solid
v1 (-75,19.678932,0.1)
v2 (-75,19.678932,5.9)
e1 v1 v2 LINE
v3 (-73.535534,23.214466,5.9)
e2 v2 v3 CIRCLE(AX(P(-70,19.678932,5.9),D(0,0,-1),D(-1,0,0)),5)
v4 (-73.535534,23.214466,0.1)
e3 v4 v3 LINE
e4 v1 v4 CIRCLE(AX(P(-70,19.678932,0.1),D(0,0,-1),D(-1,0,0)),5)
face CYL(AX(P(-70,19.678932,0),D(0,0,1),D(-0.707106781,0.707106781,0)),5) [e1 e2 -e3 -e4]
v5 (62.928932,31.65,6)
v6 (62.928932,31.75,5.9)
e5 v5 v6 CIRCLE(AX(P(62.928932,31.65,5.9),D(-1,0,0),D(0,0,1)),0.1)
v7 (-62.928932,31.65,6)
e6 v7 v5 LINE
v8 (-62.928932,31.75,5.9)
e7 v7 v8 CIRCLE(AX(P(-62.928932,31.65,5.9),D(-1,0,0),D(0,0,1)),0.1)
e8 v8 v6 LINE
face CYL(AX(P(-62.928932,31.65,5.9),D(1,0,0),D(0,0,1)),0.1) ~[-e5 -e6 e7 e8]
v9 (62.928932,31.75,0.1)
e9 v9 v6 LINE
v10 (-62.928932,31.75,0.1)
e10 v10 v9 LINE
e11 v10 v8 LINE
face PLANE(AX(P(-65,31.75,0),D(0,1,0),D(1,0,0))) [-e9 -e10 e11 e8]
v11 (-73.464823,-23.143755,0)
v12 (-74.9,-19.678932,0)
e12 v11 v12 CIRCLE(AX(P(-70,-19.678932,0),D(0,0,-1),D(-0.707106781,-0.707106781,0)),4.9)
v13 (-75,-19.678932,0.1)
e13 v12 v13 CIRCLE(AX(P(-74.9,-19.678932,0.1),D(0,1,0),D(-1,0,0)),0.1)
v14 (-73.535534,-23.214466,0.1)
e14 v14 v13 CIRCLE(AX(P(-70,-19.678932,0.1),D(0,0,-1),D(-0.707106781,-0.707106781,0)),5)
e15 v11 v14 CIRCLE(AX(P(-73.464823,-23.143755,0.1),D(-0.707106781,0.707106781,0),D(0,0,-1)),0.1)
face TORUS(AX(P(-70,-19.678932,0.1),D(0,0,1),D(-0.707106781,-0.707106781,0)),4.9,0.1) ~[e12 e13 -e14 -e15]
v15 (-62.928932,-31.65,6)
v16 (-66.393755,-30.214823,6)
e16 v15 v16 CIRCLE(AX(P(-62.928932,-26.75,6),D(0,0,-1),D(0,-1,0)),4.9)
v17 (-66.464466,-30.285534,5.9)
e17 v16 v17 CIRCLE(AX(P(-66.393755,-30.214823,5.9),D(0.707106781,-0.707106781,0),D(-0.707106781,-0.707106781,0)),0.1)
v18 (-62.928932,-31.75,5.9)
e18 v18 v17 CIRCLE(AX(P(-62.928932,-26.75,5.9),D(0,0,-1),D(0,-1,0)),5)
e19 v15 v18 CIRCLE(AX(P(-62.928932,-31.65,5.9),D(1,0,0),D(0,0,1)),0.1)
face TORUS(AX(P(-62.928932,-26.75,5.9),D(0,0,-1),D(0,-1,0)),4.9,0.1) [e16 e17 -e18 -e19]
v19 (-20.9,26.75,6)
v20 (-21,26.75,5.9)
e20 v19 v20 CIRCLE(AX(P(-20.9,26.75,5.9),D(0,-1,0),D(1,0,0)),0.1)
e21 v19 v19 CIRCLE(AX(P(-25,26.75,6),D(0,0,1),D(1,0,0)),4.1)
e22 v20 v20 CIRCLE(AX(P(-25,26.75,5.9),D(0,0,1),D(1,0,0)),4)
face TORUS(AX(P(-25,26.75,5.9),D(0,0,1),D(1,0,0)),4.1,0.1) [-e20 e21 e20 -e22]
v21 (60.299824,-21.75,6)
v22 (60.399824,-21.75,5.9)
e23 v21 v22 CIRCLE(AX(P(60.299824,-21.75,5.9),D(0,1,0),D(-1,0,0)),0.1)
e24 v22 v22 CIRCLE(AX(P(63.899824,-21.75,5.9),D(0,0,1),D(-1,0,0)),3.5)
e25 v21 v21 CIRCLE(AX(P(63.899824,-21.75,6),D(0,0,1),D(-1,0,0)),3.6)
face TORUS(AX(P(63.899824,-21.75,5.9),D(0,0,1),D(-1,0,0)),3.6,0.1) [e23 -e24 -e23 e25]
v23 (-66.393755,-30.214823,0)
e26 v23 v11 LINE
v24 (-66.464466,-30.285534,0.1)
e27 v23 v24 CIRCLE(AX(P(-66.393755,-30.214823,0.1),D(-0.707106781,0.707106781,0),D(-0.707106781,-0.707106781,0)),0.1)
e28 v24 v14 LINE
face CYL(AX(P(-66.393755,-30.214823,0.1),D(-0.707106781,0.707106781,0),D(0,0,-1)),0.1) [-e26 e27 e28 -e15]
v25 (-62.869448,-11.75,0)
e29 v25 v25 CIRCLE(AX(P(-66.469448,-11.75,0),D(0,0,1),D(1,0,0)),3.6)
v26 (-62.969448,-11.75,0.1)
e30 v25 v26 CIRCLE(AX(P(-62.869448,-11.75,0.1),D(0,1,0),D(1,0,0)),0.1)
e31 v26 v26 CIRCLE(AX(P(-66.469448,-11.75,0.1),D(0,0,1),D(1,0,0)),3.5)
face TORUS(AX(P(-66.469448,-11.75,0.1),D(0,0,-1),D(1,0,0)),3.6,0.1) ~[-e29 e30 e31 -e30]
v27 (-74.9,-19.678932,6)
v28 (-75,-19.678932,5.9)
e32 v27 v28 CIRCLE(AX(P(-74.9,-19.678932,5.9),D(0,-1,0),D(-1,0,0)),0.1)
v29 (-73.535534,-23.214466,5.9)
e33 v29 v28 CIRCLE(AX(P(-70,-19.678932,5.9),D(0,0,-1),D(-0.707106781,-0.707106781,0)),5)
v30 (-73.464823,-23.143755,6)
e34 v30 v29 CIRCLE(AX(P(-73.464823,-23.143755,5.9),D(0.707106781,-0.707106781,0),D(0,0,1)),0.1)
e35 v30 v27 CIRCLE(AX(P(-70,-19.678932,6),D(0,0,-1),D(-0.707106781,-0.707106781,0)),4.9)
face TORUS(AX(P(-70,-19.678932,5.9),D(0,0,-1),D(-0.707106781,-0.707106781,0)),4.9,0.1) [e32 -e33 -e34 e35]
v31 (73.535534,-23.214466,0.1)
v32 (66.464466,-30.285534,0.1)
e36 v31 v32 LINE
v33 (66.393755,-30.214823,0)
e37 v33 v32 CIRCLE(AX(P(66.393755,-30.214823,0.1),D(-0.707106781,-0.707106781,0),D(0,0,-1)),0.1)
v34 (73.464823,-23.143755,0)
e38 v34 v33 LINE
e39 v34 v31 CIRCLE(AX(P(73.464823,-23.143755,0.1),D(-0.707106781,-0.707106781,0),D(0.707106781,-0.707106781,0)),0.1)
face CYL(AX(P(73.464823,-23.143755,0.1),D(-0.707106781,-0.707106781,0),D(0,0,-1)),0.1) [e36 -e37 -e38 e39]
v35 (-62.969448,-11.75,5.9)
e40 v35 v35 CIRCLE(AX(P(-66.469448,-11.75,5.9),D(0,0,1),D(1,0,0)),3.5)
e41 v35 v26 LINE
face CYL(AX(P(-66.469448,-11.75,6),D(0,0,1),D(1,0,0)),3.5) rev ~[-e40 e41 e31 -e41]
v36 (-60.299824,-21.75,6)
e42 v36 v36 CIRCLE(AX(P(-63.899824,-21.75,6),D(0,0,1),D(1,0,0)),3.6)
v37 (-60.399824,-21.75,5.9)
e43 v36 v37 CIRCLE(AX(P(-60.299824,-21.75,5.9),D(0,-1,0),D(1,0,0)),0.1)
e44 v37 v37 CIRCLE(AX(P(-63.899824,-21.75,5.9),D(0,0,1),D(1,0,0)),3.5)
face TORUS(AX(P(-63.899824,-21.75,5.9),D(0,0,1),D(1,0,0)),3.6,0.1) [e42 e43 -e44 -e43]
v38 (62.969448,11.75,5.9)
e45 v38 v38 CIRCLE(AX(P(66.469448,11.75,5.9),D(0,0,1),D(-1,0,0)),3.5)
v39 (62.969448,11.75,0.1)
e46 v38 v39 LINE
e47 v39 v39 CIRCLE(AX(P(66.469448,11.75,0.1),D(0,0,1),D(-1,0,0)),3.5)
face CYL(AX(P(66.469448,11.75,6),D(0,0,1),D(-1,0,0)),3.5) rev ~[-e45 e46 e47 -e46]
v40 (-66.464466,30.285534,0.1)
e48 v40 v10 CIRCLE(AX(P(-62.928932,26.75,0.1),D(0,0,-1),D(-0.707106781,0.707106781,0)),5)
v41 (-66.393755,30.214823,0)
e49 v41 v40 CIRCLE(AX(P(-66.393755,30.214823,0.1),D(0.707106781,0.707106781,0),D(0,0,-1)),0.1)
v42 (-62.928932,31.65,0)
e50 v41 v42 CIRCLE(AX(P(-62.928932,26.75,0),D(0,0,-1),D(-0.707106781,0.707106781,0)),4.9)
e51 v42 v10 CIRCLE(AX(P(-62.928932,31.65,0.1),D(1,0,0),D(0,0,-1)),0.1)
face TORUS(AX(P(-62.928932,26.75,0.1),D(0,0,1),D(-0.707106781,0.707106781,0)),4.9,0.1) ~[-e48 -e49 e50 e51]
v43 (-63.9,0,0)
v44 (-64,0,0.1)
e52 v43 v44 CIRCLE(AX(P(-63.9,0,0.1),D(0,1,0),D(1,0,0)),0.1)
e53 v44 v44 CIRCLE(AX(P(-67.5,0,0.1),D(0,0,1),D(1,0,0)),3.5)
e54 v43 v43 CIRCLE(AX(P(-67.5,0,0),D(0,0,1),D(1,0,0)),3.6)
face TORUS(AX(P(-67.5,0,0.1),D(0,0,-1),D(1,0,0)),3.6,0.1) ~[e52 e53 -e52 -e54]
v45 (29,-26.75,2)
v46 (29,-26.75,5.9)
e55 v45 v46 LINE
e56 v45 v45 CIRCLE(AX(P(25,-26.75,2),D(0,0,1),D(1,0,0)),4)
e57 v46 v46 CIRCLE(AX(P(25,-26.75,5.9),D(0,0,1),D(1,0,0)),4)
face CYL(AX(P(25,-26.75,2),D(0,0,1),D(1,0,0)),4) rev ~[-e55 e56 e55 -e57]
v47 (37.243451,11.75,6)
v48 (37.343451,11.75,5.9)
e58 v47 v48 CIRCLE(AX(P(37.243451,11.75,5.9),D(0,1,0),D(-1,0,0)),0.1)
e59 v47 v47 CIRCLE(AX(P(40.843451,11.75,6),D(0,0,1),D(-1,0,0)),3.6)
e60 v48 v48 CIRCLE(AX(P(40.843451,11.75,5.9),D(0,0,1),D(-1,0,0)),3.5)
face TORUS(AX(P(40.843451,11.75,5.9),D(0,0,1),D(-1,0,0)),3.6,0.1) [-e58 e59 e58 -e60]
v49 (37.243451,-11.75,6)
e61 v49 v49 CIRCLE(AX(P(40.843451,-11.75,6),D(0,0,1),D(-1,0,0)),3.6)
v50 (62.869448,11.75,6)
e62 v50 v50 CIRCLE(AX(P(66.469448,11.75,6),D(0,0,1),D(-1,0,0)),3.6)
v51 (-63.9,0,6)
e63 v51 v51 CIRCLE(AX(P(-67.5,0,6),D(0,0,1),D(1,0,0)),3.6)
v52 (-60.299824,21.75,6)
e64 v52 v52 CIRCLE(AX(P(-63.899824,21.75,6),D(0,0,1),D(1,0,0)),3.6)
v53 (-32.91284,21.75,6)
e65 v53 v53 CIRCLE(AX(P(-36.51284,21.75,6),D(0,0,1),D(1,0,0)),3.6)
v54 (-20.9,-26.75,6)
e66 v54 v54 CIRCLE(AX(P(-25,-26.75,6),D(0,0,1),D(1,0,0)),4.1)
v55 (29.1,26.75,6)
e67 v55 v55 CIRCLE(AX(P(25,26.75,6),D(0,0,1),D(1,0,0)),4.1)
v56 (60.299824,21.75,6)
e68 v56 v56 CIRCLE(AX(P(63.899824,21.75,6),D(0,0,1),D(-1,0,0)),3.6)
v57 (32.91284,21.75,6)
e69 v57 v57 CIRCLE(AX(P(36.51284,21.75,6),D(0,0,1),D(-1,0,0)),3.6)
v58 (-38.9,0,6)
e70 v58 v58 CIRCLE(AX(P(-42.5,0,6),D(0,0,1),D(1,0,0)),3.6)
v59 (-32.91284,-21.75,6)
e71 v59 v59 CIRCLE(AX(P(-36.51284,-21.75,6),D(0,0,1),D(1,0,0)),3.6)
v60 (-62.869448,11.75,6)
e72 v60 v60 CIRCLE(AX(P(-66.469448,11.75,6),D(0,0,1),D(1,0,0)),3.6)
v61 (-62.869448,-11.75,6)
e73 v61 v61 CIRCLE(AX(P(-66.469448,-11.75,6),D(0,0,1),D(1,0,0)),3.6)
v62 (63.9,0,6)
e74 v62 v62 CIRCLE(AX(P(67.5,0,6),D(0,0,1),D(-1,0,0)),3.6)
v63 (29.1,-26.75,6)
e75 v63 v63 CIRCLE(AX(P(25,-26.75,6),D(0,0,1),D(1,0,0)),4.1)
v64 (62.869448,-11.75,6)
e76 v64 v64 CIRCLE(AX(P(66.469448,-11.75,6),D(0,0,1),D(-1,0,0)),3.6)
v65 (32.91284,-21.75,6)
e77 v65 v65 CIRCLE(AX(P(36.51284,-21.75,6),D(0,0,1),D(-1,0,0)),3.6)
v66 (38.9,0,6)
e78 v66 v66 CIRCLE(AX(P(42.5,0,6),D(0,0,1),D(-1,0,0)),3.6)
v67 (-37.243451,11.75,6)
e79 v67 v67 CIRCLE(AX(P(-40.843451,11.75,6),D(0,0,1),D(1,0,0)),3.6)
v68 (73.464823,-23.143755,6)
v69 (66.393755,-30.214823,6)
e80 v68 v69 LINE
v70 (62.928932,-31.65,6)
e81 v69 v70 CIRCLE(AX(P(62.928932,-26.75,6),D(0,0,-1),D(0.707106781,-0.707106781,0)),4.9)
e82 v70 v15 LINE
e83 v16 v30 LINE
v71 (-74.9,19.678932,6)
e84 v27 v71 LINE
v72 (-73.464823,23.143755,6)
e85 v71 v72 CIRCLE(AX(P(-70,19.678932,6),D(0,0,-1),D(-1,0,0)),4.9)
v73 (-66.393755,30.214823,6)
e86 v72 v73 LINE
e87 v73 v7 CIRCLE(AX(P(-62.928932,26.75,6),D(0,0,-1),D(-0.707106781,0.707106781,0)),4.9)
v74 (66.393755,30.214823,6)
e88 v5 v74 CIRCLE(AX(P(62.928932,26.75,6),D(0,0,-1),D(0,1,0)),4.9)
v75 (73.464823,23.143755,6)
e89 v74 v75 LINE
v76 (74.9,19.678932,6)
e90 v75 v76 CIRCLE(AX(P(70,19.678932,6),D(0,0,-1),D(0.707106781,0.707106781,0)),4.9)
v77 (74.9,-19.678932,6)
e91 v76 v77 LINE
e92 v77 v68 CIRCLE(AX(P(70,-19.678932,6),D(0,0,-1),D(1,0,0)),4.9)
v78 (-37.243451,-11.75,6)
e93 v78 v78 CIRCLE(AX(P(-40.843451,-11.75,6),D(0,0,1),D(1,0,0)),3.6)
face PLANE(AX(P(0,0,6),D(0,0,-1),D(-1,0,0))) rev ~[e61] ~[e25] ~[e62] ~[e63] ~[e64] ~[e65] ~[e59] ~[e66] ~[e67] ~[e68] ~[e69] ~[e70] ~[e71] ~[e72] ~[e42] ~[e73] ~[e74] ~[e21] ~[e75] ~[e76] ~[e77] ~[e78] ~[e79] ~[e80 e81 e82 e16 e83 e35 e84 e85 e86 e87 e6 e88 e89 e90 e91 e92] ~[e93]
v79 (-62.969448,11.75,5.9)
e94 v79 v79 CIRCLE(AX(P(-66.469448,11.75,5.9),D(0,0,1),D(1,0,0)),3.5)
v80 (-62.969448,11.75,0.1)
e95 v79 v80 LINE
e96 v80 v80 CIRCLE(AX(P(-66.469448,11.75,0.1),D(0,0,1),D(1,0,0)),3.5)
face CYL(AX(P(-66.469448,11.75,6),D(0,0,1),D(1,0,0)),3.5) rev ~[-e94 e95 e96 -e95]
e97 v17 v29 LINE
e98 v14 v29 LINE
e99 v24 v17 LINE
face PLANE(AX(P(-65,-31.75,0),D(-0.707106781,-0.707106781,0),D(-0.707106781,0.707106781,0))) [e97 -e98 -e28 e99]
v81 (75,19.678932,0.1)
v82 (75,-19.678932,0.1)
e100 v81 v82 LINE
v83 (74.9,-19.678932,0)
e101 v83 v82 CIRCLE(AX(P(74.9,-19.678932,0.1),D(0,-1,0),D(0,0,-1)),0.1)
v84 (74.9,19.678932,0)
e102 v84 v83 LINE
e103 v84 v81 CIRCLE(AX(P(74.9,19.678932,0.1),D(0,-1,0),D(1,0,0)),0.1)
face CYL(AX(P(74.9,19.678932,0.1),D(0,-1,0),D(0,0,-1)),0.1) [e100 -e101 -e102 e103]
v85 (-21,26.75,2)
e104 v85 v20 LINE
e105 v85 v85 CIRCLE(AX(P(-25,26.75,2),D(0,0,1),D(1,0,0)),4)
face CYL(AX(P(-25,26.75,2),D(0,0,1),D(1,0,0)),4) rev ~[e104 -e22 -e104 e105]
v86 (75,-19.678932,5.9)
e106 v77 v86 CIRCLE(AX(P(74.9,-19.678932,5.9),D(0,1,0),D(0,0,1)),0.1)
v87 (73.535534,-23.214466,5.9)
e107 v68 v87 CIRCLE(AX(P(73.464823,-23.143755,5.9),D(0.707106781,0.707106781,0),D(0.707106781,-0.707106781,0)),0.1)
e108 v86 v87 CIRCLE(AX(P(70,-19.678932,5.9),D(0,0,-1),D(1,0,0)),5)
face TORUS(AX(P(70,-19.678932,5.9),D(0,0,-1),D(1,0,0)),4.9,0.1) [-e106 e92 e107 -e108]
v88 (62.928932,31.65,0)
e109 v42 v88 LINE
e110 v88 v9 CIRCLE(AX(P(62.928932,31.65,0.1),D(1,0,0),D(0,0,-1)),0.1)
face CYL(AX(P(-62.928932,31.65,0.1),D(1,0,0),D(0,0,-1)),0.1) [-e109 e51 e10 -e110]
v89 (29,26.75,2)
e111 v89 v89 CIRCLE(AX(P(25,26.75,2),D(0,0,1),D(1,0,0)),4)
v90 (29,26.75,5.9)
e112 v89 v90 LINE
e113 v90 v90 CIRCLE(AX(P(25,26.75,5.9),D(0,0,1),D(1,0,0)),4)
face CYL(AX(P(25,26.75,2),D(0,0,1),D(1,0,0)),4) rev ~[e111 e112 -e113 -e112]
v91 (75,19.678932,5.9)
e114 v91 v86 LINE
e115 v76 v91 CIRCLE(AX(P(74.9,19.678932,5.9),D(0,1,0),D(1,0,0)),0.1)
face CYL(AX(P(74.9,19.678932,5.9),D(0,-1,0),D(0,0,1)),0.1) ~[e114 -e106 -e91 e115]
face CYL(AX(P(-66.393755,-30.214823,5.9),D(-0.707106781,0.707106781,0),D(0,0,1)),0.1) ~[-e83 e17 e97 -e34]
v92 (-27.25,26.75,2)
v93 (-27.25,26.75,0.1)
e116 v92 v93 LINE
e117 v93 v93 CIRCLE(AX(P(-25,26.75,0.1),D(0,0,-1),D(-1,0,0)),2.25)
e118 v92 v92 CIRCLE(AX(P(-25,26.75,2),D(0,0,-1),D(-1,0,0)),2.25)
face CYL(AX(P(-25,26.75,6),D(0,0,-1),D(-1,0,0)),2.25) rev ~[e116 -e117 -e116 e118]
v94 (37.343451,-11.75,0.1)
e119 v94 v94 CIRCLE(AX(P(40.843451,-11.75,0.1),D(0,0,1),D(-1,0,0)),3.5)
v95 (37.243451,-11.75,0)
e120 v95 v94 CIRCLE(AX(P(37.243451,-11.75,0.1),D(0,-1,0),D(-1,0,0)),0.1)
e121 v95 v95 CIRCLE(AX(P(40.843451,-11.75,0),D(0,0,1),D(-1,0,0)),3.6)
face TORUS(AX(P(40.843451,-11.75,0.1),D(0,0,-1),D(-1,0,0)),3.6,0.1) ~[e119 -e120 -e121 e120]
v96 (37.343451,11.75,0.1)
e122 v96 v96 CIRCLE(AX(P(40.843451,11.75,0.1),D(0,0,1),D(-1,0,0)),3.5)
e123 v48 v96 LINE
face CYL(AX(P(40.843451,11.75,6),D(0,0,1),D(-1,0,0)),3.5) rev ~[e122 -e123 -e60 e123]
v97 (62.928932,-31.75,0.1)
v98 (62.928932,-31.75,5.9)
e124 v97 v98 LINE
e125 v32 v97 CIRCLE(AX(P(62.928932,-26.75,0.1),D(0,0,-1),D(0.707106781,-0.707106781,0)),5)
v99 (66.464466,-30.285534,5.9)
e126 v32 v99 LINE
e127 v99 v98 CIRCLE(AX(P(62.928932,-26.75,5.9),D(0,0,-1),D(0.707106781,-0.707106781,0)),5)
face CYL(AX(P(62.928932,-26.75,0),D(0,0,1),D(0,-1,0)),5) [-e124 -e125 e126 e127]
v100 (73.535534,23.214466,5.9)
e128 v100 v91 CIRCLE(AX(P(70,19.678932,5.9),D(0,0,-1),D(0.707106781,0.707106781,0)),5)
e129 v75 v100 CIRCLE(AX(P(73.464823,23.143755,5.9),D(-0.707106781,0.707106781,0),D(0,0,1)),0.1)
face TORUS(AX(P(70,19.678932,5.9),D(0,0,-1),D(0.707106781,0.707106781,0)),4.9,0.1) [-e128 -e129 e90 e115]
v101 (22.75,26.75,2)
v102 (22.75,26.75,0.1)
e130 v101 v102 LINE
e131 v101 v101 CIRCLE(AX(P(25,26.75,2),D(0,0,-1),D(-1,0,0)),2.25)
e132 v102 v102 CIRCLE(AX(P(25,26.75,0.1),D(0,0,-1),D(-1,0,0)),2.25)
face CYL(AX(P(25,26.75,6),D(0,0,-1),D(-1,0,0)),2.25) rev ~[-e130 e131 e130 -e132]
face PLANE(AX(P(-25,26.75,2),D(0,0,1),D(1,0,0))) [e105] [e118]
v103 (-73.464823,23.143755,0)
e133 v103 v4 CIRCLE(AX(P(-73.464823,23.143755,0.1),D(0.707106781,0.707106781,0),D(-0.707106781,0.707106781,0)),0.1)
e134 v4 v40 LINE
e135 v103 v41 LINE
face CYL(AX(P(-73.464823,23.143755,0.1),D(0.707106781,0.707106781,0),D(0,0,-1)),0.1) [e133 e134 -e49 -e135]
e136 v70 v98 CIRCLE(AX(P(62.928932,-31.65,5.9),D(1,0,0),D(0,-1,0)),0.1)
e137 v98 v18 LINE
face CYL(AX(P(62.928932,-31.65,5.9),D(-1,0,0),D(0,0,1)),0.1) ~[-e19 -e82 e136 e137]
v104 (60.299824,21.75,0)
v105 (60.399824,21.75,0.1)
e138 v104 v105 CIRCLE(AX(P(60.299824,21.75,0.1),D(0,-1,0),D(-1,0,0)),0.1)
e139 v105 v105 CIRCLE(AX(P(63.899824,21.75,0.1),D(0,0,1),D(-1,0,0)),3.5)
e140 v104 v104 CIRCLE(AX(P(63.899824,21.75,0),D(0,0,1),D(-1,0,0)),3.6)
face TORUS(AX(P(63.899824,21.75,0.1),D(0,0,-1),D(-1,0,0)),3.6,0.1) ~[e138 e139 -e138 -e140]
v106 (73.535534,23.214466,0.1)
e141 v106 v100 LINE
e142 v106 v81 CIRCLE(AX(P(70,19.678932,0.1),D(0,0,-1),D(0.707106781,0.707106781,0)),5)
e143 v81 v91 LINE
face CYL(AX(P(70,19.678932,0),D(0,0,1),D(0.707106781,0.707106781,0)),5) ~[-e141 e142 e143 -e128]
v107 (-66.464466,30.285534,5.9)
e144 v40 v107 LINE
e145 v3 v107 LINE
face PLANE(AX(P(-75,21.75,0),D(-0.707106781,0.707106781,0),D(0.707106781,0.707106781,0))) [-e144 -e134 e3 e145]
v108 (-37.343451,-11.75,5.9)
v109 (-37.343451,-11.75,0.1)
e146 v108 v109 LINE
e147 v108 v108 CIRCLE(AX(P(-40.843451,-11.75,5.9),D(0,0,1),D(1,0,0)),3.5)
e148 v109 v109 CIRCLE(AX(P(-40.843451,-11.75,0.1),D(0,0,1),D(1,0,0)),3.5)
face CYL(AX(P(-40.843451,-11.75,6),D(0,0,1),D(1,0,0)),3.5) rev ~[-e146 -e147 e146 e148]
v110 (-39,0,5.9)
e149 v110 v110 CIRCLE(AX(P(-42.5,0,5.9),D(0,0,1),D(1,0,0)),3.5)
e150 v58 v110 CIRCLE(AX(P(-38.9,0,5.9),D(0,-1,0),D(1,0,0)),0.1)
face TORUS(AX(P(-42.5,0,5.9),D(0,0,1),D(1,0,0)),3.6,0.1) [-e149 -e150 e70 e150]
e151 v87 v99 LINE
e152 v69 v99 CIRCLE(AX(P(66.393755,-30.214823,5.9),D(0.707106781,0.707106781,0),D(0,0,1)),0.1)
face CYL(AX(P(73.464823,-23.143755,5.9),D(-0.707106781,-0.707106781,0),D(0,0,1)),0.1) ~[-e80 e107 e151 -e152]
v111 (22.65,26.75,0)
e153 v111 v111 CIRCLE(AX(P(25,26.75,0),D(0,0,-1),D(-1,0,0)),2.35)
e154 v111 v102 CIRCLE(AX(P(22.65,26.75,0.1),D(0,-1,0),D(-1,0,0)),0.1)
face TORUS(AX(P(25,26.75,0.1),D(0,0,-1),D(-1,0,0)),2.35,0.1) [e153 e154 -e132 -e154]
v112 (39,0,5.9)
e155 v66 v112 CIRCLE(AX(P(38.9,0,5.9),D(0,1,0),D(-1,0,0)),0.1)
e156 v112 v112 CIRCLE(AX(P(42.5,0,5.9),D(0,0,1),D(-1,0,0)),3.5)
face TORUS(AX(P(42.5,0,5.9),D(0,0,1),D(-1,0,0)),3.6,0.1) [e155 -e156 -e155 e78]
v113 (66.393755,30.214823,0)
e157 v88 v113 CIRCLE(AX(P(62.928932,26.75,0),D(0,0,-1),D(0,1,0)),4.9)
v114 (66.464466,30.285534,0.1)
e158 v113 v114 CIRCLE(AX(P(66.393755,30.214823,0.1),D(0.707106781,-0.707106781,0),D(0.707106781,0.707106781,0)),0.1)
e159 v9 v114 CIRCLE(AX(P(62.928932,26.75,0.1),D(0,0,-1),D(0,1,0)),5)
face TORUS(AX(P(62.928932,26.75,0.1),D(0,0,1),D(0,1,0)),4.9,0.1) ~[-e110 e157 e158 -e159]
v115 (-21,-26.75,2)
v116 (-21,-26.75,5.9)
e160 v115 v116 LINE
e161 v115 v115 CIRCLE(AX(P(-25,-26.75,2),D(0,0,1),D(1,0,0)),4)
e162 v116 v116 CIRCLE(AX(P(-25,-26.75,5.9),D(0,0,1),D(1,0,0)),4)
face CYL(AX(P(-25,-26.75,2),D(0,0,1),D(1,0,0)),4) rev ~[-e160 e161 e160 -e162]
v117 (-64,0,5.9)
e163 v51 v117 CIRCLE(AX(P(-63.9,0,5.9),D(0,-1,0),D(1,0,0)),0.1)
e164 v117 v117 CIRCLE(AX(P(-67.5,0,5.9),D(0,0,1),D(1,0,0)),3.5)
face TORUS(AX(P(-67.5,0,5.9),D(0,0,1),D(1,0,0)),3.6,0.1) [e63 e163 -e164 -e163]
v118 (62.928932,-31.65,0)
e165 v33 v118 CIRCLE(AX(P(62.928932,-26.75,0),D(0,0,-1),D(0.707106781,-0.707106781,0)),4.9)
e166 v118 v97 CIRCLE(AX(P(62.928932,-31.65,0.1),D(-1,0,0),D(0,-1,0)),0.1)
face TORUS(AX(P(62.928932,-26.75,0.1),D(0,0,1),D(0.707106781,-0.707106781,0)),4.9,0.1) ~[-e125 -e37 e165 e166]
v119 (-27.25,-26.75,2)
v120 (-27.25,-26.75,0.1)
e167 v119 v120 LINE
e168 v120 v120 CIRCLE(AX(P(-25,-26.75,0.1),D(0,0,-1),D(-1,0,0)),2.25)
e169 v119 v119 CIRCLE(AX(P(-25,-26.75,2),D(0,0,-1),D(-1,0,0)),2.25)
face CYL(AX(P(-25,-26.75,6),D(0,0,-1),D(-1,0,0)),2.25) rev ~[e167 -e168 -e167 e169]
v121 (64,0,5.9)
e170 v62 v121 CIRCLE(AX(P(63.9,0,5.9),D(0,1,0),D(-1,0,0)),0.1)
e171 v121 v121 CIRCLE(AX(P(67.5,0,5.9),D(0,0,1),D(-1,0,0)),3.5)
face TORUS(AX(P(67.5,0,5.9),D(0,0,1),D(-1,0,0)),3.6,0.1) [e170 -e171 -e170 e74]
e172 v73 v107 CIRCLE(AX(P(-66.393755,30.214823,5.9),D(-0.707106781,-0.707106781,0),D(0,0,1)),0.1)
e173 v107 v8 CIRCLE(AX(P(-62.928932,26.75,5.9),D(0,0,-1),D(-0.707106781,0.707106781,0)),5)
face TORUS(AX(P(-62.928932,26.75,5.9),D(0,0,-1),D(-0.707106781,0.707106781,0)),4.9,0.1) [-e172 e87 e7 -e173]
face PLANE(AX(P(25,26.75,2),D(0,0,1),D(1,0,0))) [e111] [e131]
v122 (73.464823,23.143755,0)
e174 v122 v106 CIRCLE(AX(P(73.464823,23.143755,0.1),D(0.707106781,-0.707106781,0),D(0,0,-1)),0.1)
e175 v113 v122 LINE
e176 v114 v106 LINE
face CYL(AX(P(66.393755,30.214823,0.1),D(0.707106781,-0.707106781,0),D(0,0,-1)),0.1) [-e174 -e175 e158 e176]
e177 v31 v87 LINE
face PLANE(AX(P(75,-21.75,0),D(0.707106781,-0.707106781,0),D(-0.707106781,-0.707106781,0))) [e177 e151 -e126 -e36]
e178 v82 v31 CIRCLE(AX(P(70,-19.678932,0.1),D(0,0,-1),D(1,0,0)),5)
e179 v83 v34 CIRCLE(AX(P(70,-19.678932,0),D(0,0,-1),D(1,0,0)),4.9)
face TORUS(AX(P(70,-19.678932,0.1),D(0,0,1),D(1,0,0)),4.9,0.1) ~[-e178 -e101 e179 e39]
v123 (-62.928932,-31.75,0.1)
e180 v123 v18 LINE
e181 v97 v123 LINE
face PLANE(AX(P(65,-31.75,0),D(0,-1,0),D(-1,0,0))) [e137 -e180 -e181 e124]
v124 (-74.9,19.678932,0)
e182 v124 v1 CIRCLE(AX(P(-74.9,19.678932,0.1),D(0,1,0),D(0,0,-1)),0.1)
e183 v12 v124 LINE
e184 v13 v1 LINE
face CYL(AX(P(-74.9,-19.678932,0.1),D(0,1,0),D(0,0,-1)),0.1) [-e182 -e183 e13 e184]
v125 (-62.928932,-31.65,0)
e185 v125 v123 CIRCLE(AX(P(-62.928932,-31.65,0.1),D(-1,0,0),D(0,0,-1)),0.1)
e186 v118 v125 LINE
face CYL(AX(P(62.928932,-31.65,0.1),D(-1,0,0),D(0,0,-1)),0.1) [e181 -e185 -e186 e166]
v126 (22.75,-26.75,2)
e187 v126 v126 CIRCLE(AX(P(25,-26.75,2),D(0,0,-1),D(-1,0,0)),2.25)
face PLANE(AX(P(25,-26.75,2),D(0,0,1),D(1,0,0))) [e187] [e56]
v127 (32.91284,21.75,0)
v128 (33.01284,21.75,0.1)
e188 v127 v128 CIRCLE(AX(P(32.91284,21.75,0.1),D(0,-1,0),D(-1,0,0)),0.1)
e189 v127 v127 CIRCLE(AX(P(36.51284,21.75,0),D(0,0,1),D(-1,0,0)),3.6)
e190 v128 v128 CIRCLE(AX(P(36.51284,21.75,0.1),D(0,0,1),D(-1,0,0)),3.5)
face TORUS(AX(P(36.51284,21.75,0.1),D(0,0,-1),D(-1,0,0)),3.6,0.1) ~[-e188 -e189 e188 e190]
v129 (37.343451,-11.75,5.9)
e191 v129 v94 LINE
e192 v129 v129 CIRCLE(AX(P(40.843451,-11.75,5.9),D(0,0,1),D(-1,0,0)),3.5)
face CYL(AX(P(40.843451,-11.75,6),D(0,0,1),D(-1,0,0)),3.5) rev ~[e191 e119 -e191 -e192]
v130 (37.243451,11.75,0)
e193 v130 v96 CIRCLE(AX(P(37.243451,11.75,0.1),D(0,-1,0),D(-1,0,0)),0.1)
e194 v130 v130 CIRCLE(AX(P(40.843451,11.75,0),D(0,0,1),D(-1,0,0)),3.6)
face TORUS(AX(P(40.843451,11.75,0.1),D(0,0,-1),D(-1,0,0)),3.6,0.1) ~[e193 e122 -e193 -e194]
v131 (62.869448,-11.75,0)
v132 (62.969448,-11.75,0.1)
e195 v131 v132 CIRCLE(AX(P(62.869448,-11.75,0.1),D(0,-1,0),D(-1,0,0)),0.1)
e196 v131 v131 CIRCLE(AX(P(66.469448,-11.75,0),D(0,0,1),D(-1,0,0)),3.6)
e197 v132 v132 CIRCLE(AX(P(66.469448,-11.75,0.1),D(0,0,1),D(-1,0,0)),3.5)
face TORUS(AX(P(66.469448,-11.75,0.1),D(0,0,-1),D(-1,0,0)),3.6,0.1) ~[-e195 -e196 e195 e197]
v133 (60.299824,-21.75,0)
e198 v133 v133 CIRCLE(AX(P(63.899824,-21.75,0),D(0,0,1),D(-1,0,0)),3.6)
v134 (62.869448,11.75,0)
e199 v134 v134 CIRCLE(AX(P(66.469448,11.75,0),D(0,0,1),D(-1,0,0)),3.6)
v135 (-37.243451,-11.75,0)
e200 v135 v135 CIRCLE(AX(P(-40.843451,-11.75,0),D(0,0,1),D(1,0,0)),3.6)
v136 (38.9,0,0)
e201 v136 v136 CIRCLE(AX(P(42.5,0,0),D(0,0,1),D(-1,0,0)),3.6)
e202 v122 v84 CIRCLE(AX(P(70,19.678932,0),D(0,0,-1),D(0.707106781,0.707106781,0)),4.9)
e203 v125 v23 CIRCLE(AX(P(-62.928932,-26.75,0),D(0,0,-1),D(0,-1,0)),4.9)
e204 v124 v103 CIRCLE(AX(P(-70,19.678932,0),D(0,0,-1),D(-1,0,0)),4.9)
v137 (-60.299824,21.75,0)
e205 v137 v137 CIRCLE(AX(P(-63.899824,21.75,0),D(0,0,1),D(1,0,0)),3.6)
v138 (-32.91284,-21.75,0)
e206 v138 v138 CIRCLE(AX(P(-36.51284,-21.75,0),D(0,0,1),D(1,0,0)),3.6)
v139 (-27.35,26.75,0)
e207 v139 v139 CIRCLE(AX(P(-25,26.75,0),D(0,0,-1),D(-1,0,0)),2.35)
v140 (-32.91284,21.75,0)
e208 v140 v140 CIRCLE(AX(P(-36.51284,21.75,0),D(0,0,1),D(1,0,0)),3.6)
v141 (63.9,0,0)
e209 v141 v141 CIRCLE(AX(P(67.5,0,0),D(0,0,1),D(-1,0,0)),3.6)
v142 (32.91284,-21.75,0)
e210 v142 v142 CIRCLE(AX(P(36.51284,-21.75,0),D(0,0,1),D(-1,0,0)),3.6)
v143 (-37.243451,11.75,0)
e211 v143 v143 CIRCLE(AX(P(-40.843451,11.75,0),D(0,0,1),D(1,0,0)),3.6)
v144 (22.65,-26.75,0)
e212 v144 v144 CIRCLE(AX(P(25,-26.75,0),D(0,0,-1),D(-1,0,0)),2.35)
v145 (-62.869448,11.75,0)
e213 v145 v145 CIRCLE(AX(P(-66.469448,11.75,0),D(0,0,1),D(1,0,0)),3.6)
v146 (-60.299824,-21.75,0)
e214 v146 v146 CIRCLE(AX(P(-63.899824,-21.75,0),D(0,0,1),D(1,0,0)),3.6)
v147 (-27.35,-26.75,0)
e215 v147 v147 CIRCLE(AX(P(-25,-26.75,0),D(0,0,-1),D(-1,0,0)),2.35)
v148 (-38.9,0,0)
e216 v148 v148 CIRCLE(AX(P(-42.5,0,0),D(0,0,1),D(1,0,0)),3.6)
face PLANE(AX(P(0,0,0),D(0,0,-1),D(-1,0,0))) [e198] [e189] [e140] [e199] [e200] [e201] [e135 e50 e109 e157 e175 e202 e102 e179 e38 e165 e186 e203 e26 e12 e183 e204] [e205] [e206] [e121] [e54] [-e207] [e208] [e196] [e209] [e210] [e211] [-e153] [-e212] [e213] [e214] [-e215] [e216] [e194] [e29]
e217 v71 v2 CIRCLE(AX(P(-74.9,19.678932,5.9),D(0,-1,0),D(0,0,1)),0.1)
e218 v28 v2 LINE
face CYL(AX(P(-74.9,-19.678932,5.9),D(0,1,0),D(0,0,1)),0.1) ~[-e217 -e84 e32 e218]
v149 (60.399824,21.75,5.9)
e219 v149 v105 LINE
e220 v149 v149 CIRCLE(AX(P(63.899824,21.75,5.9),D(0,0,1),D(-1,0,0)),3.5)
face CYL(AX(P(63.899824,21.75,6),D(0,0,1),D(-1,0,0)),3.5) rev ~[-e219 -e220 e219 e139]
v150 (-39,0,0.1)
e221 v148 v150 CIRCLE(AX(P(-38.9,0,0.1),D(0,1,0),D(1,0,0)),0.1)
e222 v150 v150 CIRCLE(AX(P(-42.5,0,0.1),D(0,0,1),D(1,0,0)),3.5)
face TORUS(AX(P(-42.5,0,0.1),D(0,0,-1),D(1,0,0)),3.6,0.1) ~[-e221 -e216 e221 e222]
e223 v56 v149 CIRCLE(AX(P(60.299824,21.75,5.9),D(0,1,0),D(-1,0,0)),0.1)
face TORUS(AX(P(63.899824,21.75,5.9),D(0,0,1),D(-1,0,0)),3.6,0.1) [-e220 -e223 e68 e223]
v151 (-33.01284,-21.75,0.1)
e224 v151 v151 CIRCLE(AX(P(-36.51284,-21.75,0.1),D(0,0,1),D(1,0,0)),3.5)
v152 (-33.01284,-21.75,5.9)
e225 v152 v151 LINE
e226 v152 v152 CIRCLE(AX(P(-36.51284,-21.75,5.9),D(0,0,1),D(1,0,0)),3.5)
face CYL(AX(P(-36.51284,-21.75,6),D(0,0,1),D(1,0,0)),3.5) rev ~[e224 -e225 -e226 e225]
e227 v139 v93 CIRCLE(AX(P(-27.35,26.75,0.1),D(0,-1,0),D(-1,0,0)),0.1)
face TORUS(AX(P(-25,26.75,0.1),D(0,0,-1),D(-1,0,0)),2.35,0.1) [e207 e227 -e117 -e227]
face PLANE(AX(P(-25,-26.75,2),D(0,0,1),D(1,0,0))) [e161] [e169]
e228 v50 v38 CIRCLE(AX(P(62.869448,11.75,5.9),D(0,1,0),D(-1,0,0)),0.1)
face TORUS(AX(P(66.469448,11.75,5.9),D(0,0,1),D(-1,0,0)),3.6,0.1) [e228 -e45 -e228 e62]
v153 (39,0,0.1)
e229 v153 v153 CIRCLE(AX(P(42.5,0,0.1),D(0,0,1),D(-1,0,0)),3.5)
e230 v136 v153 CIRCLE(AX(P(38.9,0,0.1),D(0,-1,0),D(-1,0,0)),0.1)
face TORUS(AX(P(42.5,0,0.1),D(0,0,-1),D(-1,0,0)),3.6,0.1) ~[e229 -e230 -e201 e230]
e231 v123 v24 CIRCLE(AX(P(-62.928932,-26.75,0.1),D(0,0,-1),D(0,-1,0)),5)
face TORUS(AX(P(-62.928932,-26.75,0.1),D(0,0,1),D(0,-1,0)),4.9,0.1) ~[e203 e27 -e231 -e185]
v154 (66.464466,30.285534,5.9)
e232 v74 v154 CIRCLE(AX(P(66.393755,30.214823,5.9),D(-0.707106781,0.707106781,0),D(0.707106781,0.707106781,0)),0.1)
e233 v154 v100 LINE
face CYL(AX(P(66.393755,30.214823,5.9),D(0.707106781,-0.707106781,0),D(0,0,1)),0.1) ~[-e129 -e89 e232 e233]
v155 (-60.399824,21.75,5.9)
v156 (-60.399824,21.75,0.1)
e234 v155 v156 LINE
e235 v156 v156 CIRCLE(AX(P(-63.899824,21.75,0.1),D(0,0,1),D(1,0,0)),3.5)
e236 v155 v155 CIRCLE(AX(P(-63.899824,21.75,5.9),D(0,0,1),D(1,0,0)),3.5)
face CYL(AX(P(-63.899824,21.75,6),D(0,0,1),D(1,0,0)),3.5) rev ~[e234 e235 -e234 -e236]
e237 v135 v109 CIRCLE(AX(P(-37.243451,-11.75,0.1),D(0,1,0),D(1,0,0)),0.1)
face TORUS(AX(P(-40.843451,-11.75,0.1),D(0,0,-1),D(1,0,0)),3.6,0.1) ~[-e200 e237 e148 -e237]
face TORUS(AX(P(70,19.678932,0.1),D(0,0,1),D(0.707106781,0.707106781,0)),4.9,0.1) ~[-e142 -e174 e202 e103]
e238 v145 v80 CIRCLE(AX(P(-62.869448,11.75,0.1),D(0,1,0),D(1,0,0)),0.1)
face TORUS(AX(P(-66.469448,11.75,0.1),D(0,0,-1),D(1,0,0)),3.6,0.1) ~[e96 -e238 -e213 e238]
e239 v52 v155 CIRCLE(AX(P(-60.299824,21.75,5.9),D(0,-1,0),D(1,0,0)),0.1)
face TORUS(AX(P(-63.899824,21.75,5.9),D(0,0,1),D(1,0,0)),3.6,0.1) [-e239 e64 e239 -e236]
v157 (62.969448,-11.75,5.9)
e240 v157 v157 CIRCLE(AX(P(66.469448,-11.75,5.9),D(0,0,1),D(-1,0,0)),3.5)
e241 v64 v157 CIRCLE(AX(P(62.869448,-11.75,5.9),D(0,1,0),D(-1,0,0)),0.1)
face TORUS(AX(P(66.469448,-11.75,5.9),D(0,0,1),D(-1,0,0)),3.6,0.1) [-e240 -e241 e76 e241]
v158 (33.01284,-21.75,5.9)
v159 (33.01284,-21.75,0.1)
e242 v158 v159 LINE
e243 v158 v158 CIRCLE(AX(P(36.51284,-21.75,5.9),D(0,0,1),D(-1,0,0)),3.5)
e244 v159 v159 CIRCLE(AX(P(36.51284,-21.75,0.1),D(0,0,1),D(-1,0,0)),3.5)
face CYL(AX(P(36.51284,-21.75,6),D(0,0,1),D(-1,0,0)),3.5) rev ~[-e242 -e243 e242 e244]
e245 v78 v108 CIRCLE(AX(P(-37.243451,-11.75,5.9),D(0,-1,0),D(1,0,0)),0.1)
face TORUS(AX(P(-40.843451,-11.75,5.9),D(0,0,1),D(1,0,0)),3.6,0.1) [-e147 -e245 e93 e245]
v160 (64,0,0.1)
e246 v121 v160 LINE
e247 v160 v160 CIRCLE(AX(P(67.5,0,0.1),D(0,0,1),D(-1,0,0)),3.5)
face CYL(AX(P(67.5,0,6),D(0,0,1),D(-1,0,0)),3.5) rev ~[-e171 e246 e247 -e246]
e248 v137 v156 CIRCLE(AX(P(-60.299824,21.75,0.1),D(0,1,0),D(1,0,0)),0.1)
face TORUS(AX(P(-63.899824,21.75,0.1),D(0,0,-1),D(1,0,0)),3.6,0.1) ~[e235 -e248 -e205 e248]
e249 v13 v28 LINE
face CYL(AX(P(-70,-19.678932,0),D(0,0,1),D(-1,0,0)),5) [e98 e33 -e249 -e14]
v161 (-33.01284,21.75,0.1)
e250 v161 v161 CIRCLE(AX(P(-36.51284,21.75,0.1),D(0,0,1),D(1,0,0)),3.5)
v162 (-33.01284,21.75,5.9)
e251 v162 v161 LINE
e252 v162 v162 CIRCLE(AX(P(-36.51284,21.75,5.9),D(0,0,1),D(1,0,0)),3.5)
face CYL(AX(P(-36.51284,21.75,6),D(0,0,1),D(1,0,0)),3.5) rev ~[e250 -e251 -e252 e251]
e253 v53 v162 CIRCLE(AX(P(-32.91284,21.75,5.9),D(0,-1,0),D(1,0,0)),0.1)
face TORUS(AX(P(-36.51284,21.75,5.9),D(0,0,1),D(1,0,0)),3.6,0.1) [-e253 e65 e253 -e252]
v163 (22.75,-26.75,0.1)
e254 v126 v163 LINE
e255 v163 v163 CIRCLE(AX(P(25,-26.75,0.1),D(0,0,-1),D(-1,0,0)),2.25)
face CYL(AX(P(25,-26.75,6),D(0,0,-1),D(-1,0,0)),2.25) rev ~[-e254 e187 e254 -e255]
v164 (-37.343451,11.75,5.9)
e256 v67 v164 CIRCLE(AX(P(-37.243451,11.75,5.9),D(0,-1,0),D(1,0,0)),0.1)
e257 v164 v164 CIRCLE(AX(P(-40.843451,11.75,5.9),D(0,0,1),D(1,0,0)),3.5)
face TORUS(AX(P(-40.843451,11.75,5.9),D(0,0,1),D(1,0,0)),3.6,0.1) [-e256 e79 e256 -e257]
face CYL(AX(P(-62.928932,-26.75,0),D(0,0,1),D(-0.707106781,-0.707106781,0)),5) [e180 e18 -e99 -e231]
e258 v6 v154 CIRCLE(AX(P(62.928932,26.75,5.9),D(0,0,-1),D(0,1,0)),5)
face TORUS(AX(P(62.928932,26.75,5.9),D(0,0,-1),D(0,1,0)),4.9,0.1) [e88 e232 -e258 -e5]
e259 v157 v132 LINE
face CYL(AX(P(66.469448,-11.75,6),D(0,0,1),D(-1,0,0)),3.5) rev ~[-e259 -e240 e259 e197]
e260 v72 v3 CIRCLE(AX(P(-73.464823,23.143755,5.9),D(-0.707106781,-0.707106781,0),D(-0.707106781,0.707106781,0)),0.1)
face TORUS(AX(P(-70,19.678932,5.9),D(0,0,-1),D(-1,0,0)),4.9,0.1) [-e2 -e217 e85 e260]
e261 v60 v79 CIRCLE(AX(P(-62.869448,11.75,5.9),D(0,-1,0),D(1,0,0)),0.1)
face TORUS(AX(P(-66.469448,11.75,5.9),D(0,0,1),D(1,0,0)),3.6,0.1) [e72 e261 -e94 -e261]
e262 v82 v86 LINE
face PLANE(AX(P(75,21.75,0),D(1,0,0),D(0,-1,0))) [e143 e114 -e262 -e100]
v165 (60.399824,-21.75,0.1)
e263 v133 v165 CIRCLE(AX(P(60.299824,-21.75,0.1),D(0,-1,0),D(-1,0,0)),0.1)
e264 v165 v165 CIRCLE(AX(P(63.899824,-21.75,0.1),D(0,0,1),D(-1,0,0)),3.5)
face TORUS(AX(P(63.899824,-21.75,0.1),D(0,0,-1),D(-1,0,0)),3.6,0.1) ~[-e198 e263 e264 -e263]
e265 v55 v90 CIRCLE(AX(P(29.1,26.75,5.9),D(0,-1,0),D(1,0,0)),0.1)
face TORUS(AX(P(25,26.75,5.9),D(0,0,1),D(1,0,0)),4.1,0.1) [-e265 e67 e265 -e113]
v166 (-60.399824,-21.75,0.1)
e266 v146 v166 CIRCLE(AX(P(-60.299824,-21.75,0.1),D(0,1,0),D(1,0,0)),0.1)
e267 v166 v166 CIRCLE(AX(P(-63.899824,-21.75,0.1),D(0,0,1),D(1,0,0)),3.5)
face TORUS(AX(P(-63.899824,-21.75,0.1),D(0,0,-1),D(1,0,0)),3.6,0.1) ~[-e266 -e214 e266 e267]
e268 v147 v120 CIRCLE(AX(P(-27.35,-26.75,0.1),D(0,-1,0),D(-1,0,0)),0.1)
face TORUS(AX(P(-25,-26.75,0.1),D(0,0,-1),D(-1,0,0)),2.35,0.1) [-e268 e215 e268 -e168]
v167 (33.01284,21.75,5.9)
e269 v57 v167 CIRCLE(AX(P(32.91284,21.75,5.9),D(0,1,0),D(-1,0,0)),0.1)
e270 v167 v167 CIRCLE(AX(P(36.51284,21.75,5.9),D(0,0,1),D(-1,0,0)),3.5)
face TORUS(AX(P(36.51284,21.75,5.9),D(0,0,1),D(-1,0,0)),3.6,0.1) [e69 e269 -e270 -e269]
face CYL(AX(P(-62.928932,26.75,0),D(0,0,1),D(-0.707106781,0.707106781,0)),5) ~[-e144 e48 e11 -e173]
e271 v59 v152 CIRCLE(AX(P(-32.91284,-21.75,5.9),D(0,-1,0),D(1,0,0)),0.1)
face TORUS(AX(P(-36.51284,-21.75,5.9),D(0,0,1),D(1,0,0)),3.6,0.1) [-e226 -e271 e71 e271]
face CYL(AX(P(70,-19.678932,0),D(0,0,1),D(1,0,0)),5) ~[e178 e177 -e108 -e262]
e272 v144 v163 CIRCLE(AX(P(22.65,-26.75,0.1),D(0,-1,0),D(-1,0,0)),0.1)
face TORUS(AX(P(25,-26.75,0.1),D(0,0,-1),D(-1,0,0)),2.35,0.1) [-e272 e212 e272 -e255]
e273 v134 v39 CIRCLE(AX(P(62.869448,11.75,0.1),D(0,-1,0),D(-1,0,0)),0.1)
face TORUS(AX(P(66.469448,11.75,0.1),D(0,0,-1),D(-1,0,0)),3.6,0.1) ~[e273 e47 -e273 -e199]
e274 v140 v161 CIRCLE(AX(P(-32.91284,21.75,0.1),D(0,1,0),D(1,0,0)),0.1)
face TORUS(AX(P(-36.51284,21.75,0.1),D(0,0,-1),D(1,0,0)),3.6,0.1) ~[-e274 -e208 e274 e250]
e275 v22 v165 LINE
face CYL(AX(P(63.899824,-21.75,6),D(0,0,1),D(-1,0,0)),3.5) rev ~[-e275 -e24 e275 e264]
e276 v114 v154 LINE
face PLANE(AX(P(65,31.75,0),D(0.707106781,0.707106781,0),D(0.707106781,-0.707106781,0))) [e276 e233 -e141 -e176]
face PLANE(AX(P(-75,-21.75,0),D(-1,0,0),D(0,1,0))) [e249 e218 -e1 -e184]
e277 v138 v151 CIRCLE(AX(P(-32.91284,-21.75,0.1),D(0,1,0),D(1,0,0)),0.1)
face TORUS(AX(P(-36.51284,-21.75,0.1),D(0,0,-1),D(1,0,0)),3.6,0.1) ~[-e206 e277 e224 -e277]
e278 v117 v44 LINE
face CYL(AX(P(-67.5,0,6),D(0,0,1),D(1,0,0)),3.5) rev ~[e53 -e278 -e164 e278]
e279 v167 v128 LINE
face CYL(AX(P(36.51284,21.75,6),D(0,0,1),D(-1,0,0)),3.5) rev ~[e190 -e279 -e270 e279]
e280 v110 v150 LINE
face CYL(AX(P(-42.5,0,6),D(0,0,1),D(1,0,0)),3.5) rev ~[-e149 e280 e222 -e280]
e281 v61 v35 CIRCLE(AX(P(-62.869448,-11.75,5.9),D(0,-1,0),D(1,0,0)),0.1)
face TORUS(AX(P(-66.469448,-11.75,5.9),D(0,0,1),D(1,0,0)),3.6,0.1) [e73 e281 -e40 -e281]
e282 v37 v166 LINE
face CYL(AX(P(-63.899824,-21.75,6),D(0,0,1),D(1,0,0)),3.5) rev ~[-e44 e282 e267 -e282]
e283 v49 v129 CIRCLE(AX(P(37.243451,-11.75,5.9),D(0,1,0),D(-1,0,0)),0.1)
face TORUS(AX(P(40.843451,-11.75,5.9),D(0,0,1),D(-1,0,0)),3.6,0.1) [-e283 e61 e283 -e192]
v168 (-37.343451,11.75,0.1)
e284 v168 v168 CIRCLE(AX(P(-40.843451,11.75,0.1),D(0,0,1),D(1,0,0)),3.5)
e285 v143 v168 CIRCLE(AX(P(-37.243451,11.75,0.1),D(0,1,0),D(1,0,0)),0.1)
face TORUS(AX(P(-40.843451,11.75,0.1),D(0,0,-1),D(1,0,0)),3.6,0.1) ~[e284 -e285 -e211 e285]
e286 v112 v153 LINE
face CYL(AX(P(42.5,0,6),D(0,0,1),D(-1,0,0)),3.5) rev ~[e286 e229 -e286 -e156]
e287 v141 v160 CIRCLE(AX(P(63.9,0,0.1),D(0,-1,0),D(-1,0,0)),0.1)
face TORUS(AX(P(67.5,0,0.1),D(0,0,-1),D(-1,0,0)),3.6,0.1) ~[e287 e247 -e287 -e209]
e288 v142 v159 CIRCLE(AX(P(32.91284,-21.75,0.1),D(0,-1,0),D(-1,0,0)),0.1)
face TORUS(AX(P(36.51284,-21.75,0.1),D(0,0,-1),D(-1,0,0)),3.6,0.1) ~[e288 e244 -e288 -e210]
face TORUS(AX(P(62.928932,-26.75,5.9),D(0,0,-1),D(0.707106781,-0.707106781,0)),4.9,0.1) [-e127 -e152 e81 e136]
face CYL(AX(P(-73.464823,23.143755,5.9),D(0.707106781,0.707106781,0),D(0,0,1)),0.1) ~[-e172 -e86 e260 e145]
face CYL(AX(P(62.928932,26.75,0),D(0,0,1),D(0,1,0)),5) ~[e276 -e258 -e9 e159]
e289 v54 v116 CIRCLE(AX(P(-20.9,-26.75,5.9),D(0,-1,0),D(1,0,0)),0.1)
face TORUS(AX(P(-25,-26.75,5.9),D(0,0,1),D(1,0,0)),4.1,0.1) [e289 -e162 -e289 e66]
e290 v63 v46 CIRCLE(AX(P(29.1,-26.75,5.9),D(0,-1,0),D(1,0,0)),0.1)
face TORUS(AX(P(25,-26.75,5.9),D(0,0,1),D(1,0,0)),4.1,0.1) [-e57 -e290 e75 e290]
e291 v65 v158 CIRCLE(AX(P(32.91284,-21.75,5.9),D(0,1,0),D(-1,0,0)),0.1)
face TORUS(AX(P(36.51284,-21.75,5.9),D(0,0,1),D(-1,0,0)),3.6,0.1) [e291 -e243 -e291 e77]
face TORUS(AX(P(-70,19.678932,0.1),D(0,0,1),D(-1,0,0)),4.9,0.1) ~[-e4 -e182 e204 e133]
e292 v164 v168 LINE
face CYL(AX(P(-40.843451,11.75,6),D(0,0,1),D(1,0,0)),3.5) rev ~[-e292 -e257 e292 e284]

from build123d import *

# Parameters (mm, degrees)
EXTRUDE_2_DEPTH             = 6
HOLE_WIZARD_M41_D           = 4.5
HOLE_WIZARD_M41_CBORE_D     = 8
HOLE_WIZARD_M41_CBORE_DEPTH = 4
SKETCH_13_R                 = 3.5
CUT_EXTRUDE_1_DEPTH         = 82.664328198
FILLET_1_R                  = 5
FILLET_2_R                  = 0.1


with BuildPart() as part:
    # Эскиз5 → Бобышка-Вытянуть2 (new body)
    with BuildSketch(Plane.XY):
        Polygon((-75, 21.75), (-65, 31.75), (65, 31.75), (75, 21.75), (75, -21.75), (65, -31.75), (-65, -31.75), (-75, -21.75), align=None)
    extrude(amount=EXTRUDE_2_DEPTH)

    # Цековка для винта с внутренним шестигранником M41 (through all)
    with Locations(Plane.XY.offset(6)):
        with Locations((-25, 26.75), (-25, -26.75), (25, -26.75), (25, 26.75)):
            CounterBoreHole(HOLE_WIZARD_M41_D / 2, HOLE_WIZARD_M41_CBORE_D / 2, HOLE_WIZARD_M41_CBORE_DEPTH)

    # Эскиз13 → Вырез-Вытянуть1 (cut, through all)
    with BuildSketch(Plane.XY.offset(6)):
        with Locations((-67.5, 0)):
            Circle(SKETCH_13_R)
        with Locations((-66.469447869, 11.75)):
            Circle(SKETCH_13_R)
        with Locations((-63.899823943, 21.75)):
            Circle(SKETCH_13_R)
        with Locations((-66.469447869, -11.75)):
            Circle(SKETCH_13_R)
        with Locations((-63.899823943, -21.75)):
            Circle(SKETCH_13_R)
        with Locations(Location((63.899823943, -21.75, 0), (0, 0, 180))):
            Circle(SKETCH_13_R)
        with Locations(Location((66.469447869, -11.75, 0), (0, 0, 180))):
            Circle(SKETCH_13_R)
        with Locations(Location((67.5, 0, 0), (0, 0, 180))):
            Circle(SKETCH_13_R)
        with Locations(Location((66.469447869, 11.75, 0), (0, 0, 180))):
            Circle(SKETCH_13_R)
        with Locations(Location((63.899823943, 21.75, 0), (0, 0, 180))):
            Circle(SKETCH_13_R)
        with Locations((-36.512840207, 21.75)):
            Circle(SKETCH_13_R)
        with Locations((-40.843451127, 11.75)):
            Circle(SKETCH_13_R)
        with Locations((-42.5, 0)):
            Circle(SKETCH_13_R)
        with Locations((-40.843451127, -11.75)):
            Circle(SKETCH_13_R)
        with Locations((-36.512840207, -21.75)):
            Circle(SKETCH_13_R)
        with Locations(Location((36.512840207, -21.75, 0), (0, 0, 180))):
            Circle(SKETCH_13_R)
        with Locations(Location((40.843451127, -11.75, 0), (0, 0, 180))):
            Circle(SKETCH_13_R)
        with Locations(Location((42.5, 0, 0), (0, 0, 180))):
            Circle(SKETCH_13_R)
        with Locations(Location((40.843451127, 11.75, 0), (0, 0, 180))):
            Circle(SKETCH_13_R)
        with Locations(Location((36.512840207, 21.75, 0), (0, 0, 180))):
            Circle(SKETCH_13_R)
    extrude(amount=-CUT_EXTRUDE_1_DEPTH, mode=Mode.SUBTRACT)

    # Скругление1
    fillet_1_edges = [part.edges().sort_by_distance(p)[0] for p in [
        (65, 31.75, 3),
        (75, 21.75, 3),
        (75, -21.75, 3),
        (65, -31.75, 3),
        (-65, -31.75, 3),
        (-75, -21.75, 3),
        (-75, 21.75, 3),
        (-65, 31.75, 3),
    ]]
    fillet(fillet_1_edges, radius=FILLET_1_R)

    # Скругление2
    fillet_2_edges = [part.edges().sort_by_distance(p)[0] for p in [
        (-44.343451127, -11.75, 0),
        (-44.343451127, -11.75, 6),
        (-40.012840207, -21.75, 0),
        (-40.012840207, -21.75, 6),
        (40.012840207, -21.75, 0),
        (40.012840207, -21.75, 6),
        (44.343451127, -11.75, 0),
        (44.343451127, -11.75, 6),
        (46, 0, 0),
        (46, 0, 6),
        (44.343451127, 11.75, 0),
        (44.343451127, 11.75, 6),
        (40.012840207, 21.75, 0),
        (40.012840207, 21.75, 6),
        (0, 31.75, 0),
        (0, 31.75, 6),
        (70, 26.75, 0),
        (75, 0, 0),
        (70, -26.75, 0),
        (0, -31.75, 0),
        (-70, -26.75, 0),
        (-75, 0, 0),
        (-70, 26.75, 0),
        (-64.84234935, 31.369397663, 0),
        (-74.619397663, 21.59234935, 0),
        (-74.619397663, -21.59234935, 0),
        (-64.84234935, -31.369397663, 0),
        (64.84234935, -31.369397663, 0),
        (74.619397663, -21.59234935, 0),
        (74.619397663, 21.59234935, 0),
        (64.84234935, 31.369397663, 0),
        (70, 26.75, 6),
        (-70, 26.75, 6),
        (-75, 0, 6),
        (-70, -26.75, 6),
        (0, -31.75, 6),
        (70, -26.75, 6),
        (75, 0, 6),
        (-64.84234935, 31.369397663, 6),
        (-74.619397663, 21.59234935, 6),
        (-74.619397663, -21.59234935, 6),
        (-64.84234935, -31.369397663, 6),
        (64.84234935, -31.369397663, 6),
        (74.619397663, -21.59234935, 6),
        (74.619397663, 21.59234935, 6),
        (64.84234935, 31.369397663, 6),
        (21, 26.75, 6),
        (27.25, 26.75, 0),
        (21, -26.75, 6),
        (27.25, -26.75, 0),
        (-29, -26.75, 6),
        (-22.75, -26.75, 0),
        (-29, 26.75, 6),
        (-22.75, 26.75, 0),
        (-71, 0, 0),
        (-71, 0, 6),
        (-69.969447869, 11.75, 0),
        (-69.969447869, 11.75, 6),
        (-67.399823943, 21.75, 0),
        (-67.399823943, 21.75, 6),
        (-69.969447869, -11.75, 0),
        (-69.969447869, -11.75, 6),
        (-67.399823943, -21.75, 0),
        (-67.399823943, -21.75, 6),
        (67.399823943, -21.75, 0),
        (67.399823943, -21.75, 6),
        (69.969447869, -11.75, 0),
        (69.969447869, -11.75, 6),
        (71, 0, 0),
        (71, 0, 6),
        (69.969447869, 11.75, 0),
        (69.969447869, 11.75, 6),
        (67.399823943, 21.75, 0),
        (67.399823943, 21.75, 6),
        (-40.012840207, 21.75, 0),
        (-40.012840207, 21.75, 6),
        (-44.343451127, 11.75, 0),
        (-44.343451127, 11.75, 6),
        (-46, 0, 0),
        (-46, 0, 6),
    ]]
    fillet(fillet_2_edges, radius=FILLET_2_R)


solid = part.part
